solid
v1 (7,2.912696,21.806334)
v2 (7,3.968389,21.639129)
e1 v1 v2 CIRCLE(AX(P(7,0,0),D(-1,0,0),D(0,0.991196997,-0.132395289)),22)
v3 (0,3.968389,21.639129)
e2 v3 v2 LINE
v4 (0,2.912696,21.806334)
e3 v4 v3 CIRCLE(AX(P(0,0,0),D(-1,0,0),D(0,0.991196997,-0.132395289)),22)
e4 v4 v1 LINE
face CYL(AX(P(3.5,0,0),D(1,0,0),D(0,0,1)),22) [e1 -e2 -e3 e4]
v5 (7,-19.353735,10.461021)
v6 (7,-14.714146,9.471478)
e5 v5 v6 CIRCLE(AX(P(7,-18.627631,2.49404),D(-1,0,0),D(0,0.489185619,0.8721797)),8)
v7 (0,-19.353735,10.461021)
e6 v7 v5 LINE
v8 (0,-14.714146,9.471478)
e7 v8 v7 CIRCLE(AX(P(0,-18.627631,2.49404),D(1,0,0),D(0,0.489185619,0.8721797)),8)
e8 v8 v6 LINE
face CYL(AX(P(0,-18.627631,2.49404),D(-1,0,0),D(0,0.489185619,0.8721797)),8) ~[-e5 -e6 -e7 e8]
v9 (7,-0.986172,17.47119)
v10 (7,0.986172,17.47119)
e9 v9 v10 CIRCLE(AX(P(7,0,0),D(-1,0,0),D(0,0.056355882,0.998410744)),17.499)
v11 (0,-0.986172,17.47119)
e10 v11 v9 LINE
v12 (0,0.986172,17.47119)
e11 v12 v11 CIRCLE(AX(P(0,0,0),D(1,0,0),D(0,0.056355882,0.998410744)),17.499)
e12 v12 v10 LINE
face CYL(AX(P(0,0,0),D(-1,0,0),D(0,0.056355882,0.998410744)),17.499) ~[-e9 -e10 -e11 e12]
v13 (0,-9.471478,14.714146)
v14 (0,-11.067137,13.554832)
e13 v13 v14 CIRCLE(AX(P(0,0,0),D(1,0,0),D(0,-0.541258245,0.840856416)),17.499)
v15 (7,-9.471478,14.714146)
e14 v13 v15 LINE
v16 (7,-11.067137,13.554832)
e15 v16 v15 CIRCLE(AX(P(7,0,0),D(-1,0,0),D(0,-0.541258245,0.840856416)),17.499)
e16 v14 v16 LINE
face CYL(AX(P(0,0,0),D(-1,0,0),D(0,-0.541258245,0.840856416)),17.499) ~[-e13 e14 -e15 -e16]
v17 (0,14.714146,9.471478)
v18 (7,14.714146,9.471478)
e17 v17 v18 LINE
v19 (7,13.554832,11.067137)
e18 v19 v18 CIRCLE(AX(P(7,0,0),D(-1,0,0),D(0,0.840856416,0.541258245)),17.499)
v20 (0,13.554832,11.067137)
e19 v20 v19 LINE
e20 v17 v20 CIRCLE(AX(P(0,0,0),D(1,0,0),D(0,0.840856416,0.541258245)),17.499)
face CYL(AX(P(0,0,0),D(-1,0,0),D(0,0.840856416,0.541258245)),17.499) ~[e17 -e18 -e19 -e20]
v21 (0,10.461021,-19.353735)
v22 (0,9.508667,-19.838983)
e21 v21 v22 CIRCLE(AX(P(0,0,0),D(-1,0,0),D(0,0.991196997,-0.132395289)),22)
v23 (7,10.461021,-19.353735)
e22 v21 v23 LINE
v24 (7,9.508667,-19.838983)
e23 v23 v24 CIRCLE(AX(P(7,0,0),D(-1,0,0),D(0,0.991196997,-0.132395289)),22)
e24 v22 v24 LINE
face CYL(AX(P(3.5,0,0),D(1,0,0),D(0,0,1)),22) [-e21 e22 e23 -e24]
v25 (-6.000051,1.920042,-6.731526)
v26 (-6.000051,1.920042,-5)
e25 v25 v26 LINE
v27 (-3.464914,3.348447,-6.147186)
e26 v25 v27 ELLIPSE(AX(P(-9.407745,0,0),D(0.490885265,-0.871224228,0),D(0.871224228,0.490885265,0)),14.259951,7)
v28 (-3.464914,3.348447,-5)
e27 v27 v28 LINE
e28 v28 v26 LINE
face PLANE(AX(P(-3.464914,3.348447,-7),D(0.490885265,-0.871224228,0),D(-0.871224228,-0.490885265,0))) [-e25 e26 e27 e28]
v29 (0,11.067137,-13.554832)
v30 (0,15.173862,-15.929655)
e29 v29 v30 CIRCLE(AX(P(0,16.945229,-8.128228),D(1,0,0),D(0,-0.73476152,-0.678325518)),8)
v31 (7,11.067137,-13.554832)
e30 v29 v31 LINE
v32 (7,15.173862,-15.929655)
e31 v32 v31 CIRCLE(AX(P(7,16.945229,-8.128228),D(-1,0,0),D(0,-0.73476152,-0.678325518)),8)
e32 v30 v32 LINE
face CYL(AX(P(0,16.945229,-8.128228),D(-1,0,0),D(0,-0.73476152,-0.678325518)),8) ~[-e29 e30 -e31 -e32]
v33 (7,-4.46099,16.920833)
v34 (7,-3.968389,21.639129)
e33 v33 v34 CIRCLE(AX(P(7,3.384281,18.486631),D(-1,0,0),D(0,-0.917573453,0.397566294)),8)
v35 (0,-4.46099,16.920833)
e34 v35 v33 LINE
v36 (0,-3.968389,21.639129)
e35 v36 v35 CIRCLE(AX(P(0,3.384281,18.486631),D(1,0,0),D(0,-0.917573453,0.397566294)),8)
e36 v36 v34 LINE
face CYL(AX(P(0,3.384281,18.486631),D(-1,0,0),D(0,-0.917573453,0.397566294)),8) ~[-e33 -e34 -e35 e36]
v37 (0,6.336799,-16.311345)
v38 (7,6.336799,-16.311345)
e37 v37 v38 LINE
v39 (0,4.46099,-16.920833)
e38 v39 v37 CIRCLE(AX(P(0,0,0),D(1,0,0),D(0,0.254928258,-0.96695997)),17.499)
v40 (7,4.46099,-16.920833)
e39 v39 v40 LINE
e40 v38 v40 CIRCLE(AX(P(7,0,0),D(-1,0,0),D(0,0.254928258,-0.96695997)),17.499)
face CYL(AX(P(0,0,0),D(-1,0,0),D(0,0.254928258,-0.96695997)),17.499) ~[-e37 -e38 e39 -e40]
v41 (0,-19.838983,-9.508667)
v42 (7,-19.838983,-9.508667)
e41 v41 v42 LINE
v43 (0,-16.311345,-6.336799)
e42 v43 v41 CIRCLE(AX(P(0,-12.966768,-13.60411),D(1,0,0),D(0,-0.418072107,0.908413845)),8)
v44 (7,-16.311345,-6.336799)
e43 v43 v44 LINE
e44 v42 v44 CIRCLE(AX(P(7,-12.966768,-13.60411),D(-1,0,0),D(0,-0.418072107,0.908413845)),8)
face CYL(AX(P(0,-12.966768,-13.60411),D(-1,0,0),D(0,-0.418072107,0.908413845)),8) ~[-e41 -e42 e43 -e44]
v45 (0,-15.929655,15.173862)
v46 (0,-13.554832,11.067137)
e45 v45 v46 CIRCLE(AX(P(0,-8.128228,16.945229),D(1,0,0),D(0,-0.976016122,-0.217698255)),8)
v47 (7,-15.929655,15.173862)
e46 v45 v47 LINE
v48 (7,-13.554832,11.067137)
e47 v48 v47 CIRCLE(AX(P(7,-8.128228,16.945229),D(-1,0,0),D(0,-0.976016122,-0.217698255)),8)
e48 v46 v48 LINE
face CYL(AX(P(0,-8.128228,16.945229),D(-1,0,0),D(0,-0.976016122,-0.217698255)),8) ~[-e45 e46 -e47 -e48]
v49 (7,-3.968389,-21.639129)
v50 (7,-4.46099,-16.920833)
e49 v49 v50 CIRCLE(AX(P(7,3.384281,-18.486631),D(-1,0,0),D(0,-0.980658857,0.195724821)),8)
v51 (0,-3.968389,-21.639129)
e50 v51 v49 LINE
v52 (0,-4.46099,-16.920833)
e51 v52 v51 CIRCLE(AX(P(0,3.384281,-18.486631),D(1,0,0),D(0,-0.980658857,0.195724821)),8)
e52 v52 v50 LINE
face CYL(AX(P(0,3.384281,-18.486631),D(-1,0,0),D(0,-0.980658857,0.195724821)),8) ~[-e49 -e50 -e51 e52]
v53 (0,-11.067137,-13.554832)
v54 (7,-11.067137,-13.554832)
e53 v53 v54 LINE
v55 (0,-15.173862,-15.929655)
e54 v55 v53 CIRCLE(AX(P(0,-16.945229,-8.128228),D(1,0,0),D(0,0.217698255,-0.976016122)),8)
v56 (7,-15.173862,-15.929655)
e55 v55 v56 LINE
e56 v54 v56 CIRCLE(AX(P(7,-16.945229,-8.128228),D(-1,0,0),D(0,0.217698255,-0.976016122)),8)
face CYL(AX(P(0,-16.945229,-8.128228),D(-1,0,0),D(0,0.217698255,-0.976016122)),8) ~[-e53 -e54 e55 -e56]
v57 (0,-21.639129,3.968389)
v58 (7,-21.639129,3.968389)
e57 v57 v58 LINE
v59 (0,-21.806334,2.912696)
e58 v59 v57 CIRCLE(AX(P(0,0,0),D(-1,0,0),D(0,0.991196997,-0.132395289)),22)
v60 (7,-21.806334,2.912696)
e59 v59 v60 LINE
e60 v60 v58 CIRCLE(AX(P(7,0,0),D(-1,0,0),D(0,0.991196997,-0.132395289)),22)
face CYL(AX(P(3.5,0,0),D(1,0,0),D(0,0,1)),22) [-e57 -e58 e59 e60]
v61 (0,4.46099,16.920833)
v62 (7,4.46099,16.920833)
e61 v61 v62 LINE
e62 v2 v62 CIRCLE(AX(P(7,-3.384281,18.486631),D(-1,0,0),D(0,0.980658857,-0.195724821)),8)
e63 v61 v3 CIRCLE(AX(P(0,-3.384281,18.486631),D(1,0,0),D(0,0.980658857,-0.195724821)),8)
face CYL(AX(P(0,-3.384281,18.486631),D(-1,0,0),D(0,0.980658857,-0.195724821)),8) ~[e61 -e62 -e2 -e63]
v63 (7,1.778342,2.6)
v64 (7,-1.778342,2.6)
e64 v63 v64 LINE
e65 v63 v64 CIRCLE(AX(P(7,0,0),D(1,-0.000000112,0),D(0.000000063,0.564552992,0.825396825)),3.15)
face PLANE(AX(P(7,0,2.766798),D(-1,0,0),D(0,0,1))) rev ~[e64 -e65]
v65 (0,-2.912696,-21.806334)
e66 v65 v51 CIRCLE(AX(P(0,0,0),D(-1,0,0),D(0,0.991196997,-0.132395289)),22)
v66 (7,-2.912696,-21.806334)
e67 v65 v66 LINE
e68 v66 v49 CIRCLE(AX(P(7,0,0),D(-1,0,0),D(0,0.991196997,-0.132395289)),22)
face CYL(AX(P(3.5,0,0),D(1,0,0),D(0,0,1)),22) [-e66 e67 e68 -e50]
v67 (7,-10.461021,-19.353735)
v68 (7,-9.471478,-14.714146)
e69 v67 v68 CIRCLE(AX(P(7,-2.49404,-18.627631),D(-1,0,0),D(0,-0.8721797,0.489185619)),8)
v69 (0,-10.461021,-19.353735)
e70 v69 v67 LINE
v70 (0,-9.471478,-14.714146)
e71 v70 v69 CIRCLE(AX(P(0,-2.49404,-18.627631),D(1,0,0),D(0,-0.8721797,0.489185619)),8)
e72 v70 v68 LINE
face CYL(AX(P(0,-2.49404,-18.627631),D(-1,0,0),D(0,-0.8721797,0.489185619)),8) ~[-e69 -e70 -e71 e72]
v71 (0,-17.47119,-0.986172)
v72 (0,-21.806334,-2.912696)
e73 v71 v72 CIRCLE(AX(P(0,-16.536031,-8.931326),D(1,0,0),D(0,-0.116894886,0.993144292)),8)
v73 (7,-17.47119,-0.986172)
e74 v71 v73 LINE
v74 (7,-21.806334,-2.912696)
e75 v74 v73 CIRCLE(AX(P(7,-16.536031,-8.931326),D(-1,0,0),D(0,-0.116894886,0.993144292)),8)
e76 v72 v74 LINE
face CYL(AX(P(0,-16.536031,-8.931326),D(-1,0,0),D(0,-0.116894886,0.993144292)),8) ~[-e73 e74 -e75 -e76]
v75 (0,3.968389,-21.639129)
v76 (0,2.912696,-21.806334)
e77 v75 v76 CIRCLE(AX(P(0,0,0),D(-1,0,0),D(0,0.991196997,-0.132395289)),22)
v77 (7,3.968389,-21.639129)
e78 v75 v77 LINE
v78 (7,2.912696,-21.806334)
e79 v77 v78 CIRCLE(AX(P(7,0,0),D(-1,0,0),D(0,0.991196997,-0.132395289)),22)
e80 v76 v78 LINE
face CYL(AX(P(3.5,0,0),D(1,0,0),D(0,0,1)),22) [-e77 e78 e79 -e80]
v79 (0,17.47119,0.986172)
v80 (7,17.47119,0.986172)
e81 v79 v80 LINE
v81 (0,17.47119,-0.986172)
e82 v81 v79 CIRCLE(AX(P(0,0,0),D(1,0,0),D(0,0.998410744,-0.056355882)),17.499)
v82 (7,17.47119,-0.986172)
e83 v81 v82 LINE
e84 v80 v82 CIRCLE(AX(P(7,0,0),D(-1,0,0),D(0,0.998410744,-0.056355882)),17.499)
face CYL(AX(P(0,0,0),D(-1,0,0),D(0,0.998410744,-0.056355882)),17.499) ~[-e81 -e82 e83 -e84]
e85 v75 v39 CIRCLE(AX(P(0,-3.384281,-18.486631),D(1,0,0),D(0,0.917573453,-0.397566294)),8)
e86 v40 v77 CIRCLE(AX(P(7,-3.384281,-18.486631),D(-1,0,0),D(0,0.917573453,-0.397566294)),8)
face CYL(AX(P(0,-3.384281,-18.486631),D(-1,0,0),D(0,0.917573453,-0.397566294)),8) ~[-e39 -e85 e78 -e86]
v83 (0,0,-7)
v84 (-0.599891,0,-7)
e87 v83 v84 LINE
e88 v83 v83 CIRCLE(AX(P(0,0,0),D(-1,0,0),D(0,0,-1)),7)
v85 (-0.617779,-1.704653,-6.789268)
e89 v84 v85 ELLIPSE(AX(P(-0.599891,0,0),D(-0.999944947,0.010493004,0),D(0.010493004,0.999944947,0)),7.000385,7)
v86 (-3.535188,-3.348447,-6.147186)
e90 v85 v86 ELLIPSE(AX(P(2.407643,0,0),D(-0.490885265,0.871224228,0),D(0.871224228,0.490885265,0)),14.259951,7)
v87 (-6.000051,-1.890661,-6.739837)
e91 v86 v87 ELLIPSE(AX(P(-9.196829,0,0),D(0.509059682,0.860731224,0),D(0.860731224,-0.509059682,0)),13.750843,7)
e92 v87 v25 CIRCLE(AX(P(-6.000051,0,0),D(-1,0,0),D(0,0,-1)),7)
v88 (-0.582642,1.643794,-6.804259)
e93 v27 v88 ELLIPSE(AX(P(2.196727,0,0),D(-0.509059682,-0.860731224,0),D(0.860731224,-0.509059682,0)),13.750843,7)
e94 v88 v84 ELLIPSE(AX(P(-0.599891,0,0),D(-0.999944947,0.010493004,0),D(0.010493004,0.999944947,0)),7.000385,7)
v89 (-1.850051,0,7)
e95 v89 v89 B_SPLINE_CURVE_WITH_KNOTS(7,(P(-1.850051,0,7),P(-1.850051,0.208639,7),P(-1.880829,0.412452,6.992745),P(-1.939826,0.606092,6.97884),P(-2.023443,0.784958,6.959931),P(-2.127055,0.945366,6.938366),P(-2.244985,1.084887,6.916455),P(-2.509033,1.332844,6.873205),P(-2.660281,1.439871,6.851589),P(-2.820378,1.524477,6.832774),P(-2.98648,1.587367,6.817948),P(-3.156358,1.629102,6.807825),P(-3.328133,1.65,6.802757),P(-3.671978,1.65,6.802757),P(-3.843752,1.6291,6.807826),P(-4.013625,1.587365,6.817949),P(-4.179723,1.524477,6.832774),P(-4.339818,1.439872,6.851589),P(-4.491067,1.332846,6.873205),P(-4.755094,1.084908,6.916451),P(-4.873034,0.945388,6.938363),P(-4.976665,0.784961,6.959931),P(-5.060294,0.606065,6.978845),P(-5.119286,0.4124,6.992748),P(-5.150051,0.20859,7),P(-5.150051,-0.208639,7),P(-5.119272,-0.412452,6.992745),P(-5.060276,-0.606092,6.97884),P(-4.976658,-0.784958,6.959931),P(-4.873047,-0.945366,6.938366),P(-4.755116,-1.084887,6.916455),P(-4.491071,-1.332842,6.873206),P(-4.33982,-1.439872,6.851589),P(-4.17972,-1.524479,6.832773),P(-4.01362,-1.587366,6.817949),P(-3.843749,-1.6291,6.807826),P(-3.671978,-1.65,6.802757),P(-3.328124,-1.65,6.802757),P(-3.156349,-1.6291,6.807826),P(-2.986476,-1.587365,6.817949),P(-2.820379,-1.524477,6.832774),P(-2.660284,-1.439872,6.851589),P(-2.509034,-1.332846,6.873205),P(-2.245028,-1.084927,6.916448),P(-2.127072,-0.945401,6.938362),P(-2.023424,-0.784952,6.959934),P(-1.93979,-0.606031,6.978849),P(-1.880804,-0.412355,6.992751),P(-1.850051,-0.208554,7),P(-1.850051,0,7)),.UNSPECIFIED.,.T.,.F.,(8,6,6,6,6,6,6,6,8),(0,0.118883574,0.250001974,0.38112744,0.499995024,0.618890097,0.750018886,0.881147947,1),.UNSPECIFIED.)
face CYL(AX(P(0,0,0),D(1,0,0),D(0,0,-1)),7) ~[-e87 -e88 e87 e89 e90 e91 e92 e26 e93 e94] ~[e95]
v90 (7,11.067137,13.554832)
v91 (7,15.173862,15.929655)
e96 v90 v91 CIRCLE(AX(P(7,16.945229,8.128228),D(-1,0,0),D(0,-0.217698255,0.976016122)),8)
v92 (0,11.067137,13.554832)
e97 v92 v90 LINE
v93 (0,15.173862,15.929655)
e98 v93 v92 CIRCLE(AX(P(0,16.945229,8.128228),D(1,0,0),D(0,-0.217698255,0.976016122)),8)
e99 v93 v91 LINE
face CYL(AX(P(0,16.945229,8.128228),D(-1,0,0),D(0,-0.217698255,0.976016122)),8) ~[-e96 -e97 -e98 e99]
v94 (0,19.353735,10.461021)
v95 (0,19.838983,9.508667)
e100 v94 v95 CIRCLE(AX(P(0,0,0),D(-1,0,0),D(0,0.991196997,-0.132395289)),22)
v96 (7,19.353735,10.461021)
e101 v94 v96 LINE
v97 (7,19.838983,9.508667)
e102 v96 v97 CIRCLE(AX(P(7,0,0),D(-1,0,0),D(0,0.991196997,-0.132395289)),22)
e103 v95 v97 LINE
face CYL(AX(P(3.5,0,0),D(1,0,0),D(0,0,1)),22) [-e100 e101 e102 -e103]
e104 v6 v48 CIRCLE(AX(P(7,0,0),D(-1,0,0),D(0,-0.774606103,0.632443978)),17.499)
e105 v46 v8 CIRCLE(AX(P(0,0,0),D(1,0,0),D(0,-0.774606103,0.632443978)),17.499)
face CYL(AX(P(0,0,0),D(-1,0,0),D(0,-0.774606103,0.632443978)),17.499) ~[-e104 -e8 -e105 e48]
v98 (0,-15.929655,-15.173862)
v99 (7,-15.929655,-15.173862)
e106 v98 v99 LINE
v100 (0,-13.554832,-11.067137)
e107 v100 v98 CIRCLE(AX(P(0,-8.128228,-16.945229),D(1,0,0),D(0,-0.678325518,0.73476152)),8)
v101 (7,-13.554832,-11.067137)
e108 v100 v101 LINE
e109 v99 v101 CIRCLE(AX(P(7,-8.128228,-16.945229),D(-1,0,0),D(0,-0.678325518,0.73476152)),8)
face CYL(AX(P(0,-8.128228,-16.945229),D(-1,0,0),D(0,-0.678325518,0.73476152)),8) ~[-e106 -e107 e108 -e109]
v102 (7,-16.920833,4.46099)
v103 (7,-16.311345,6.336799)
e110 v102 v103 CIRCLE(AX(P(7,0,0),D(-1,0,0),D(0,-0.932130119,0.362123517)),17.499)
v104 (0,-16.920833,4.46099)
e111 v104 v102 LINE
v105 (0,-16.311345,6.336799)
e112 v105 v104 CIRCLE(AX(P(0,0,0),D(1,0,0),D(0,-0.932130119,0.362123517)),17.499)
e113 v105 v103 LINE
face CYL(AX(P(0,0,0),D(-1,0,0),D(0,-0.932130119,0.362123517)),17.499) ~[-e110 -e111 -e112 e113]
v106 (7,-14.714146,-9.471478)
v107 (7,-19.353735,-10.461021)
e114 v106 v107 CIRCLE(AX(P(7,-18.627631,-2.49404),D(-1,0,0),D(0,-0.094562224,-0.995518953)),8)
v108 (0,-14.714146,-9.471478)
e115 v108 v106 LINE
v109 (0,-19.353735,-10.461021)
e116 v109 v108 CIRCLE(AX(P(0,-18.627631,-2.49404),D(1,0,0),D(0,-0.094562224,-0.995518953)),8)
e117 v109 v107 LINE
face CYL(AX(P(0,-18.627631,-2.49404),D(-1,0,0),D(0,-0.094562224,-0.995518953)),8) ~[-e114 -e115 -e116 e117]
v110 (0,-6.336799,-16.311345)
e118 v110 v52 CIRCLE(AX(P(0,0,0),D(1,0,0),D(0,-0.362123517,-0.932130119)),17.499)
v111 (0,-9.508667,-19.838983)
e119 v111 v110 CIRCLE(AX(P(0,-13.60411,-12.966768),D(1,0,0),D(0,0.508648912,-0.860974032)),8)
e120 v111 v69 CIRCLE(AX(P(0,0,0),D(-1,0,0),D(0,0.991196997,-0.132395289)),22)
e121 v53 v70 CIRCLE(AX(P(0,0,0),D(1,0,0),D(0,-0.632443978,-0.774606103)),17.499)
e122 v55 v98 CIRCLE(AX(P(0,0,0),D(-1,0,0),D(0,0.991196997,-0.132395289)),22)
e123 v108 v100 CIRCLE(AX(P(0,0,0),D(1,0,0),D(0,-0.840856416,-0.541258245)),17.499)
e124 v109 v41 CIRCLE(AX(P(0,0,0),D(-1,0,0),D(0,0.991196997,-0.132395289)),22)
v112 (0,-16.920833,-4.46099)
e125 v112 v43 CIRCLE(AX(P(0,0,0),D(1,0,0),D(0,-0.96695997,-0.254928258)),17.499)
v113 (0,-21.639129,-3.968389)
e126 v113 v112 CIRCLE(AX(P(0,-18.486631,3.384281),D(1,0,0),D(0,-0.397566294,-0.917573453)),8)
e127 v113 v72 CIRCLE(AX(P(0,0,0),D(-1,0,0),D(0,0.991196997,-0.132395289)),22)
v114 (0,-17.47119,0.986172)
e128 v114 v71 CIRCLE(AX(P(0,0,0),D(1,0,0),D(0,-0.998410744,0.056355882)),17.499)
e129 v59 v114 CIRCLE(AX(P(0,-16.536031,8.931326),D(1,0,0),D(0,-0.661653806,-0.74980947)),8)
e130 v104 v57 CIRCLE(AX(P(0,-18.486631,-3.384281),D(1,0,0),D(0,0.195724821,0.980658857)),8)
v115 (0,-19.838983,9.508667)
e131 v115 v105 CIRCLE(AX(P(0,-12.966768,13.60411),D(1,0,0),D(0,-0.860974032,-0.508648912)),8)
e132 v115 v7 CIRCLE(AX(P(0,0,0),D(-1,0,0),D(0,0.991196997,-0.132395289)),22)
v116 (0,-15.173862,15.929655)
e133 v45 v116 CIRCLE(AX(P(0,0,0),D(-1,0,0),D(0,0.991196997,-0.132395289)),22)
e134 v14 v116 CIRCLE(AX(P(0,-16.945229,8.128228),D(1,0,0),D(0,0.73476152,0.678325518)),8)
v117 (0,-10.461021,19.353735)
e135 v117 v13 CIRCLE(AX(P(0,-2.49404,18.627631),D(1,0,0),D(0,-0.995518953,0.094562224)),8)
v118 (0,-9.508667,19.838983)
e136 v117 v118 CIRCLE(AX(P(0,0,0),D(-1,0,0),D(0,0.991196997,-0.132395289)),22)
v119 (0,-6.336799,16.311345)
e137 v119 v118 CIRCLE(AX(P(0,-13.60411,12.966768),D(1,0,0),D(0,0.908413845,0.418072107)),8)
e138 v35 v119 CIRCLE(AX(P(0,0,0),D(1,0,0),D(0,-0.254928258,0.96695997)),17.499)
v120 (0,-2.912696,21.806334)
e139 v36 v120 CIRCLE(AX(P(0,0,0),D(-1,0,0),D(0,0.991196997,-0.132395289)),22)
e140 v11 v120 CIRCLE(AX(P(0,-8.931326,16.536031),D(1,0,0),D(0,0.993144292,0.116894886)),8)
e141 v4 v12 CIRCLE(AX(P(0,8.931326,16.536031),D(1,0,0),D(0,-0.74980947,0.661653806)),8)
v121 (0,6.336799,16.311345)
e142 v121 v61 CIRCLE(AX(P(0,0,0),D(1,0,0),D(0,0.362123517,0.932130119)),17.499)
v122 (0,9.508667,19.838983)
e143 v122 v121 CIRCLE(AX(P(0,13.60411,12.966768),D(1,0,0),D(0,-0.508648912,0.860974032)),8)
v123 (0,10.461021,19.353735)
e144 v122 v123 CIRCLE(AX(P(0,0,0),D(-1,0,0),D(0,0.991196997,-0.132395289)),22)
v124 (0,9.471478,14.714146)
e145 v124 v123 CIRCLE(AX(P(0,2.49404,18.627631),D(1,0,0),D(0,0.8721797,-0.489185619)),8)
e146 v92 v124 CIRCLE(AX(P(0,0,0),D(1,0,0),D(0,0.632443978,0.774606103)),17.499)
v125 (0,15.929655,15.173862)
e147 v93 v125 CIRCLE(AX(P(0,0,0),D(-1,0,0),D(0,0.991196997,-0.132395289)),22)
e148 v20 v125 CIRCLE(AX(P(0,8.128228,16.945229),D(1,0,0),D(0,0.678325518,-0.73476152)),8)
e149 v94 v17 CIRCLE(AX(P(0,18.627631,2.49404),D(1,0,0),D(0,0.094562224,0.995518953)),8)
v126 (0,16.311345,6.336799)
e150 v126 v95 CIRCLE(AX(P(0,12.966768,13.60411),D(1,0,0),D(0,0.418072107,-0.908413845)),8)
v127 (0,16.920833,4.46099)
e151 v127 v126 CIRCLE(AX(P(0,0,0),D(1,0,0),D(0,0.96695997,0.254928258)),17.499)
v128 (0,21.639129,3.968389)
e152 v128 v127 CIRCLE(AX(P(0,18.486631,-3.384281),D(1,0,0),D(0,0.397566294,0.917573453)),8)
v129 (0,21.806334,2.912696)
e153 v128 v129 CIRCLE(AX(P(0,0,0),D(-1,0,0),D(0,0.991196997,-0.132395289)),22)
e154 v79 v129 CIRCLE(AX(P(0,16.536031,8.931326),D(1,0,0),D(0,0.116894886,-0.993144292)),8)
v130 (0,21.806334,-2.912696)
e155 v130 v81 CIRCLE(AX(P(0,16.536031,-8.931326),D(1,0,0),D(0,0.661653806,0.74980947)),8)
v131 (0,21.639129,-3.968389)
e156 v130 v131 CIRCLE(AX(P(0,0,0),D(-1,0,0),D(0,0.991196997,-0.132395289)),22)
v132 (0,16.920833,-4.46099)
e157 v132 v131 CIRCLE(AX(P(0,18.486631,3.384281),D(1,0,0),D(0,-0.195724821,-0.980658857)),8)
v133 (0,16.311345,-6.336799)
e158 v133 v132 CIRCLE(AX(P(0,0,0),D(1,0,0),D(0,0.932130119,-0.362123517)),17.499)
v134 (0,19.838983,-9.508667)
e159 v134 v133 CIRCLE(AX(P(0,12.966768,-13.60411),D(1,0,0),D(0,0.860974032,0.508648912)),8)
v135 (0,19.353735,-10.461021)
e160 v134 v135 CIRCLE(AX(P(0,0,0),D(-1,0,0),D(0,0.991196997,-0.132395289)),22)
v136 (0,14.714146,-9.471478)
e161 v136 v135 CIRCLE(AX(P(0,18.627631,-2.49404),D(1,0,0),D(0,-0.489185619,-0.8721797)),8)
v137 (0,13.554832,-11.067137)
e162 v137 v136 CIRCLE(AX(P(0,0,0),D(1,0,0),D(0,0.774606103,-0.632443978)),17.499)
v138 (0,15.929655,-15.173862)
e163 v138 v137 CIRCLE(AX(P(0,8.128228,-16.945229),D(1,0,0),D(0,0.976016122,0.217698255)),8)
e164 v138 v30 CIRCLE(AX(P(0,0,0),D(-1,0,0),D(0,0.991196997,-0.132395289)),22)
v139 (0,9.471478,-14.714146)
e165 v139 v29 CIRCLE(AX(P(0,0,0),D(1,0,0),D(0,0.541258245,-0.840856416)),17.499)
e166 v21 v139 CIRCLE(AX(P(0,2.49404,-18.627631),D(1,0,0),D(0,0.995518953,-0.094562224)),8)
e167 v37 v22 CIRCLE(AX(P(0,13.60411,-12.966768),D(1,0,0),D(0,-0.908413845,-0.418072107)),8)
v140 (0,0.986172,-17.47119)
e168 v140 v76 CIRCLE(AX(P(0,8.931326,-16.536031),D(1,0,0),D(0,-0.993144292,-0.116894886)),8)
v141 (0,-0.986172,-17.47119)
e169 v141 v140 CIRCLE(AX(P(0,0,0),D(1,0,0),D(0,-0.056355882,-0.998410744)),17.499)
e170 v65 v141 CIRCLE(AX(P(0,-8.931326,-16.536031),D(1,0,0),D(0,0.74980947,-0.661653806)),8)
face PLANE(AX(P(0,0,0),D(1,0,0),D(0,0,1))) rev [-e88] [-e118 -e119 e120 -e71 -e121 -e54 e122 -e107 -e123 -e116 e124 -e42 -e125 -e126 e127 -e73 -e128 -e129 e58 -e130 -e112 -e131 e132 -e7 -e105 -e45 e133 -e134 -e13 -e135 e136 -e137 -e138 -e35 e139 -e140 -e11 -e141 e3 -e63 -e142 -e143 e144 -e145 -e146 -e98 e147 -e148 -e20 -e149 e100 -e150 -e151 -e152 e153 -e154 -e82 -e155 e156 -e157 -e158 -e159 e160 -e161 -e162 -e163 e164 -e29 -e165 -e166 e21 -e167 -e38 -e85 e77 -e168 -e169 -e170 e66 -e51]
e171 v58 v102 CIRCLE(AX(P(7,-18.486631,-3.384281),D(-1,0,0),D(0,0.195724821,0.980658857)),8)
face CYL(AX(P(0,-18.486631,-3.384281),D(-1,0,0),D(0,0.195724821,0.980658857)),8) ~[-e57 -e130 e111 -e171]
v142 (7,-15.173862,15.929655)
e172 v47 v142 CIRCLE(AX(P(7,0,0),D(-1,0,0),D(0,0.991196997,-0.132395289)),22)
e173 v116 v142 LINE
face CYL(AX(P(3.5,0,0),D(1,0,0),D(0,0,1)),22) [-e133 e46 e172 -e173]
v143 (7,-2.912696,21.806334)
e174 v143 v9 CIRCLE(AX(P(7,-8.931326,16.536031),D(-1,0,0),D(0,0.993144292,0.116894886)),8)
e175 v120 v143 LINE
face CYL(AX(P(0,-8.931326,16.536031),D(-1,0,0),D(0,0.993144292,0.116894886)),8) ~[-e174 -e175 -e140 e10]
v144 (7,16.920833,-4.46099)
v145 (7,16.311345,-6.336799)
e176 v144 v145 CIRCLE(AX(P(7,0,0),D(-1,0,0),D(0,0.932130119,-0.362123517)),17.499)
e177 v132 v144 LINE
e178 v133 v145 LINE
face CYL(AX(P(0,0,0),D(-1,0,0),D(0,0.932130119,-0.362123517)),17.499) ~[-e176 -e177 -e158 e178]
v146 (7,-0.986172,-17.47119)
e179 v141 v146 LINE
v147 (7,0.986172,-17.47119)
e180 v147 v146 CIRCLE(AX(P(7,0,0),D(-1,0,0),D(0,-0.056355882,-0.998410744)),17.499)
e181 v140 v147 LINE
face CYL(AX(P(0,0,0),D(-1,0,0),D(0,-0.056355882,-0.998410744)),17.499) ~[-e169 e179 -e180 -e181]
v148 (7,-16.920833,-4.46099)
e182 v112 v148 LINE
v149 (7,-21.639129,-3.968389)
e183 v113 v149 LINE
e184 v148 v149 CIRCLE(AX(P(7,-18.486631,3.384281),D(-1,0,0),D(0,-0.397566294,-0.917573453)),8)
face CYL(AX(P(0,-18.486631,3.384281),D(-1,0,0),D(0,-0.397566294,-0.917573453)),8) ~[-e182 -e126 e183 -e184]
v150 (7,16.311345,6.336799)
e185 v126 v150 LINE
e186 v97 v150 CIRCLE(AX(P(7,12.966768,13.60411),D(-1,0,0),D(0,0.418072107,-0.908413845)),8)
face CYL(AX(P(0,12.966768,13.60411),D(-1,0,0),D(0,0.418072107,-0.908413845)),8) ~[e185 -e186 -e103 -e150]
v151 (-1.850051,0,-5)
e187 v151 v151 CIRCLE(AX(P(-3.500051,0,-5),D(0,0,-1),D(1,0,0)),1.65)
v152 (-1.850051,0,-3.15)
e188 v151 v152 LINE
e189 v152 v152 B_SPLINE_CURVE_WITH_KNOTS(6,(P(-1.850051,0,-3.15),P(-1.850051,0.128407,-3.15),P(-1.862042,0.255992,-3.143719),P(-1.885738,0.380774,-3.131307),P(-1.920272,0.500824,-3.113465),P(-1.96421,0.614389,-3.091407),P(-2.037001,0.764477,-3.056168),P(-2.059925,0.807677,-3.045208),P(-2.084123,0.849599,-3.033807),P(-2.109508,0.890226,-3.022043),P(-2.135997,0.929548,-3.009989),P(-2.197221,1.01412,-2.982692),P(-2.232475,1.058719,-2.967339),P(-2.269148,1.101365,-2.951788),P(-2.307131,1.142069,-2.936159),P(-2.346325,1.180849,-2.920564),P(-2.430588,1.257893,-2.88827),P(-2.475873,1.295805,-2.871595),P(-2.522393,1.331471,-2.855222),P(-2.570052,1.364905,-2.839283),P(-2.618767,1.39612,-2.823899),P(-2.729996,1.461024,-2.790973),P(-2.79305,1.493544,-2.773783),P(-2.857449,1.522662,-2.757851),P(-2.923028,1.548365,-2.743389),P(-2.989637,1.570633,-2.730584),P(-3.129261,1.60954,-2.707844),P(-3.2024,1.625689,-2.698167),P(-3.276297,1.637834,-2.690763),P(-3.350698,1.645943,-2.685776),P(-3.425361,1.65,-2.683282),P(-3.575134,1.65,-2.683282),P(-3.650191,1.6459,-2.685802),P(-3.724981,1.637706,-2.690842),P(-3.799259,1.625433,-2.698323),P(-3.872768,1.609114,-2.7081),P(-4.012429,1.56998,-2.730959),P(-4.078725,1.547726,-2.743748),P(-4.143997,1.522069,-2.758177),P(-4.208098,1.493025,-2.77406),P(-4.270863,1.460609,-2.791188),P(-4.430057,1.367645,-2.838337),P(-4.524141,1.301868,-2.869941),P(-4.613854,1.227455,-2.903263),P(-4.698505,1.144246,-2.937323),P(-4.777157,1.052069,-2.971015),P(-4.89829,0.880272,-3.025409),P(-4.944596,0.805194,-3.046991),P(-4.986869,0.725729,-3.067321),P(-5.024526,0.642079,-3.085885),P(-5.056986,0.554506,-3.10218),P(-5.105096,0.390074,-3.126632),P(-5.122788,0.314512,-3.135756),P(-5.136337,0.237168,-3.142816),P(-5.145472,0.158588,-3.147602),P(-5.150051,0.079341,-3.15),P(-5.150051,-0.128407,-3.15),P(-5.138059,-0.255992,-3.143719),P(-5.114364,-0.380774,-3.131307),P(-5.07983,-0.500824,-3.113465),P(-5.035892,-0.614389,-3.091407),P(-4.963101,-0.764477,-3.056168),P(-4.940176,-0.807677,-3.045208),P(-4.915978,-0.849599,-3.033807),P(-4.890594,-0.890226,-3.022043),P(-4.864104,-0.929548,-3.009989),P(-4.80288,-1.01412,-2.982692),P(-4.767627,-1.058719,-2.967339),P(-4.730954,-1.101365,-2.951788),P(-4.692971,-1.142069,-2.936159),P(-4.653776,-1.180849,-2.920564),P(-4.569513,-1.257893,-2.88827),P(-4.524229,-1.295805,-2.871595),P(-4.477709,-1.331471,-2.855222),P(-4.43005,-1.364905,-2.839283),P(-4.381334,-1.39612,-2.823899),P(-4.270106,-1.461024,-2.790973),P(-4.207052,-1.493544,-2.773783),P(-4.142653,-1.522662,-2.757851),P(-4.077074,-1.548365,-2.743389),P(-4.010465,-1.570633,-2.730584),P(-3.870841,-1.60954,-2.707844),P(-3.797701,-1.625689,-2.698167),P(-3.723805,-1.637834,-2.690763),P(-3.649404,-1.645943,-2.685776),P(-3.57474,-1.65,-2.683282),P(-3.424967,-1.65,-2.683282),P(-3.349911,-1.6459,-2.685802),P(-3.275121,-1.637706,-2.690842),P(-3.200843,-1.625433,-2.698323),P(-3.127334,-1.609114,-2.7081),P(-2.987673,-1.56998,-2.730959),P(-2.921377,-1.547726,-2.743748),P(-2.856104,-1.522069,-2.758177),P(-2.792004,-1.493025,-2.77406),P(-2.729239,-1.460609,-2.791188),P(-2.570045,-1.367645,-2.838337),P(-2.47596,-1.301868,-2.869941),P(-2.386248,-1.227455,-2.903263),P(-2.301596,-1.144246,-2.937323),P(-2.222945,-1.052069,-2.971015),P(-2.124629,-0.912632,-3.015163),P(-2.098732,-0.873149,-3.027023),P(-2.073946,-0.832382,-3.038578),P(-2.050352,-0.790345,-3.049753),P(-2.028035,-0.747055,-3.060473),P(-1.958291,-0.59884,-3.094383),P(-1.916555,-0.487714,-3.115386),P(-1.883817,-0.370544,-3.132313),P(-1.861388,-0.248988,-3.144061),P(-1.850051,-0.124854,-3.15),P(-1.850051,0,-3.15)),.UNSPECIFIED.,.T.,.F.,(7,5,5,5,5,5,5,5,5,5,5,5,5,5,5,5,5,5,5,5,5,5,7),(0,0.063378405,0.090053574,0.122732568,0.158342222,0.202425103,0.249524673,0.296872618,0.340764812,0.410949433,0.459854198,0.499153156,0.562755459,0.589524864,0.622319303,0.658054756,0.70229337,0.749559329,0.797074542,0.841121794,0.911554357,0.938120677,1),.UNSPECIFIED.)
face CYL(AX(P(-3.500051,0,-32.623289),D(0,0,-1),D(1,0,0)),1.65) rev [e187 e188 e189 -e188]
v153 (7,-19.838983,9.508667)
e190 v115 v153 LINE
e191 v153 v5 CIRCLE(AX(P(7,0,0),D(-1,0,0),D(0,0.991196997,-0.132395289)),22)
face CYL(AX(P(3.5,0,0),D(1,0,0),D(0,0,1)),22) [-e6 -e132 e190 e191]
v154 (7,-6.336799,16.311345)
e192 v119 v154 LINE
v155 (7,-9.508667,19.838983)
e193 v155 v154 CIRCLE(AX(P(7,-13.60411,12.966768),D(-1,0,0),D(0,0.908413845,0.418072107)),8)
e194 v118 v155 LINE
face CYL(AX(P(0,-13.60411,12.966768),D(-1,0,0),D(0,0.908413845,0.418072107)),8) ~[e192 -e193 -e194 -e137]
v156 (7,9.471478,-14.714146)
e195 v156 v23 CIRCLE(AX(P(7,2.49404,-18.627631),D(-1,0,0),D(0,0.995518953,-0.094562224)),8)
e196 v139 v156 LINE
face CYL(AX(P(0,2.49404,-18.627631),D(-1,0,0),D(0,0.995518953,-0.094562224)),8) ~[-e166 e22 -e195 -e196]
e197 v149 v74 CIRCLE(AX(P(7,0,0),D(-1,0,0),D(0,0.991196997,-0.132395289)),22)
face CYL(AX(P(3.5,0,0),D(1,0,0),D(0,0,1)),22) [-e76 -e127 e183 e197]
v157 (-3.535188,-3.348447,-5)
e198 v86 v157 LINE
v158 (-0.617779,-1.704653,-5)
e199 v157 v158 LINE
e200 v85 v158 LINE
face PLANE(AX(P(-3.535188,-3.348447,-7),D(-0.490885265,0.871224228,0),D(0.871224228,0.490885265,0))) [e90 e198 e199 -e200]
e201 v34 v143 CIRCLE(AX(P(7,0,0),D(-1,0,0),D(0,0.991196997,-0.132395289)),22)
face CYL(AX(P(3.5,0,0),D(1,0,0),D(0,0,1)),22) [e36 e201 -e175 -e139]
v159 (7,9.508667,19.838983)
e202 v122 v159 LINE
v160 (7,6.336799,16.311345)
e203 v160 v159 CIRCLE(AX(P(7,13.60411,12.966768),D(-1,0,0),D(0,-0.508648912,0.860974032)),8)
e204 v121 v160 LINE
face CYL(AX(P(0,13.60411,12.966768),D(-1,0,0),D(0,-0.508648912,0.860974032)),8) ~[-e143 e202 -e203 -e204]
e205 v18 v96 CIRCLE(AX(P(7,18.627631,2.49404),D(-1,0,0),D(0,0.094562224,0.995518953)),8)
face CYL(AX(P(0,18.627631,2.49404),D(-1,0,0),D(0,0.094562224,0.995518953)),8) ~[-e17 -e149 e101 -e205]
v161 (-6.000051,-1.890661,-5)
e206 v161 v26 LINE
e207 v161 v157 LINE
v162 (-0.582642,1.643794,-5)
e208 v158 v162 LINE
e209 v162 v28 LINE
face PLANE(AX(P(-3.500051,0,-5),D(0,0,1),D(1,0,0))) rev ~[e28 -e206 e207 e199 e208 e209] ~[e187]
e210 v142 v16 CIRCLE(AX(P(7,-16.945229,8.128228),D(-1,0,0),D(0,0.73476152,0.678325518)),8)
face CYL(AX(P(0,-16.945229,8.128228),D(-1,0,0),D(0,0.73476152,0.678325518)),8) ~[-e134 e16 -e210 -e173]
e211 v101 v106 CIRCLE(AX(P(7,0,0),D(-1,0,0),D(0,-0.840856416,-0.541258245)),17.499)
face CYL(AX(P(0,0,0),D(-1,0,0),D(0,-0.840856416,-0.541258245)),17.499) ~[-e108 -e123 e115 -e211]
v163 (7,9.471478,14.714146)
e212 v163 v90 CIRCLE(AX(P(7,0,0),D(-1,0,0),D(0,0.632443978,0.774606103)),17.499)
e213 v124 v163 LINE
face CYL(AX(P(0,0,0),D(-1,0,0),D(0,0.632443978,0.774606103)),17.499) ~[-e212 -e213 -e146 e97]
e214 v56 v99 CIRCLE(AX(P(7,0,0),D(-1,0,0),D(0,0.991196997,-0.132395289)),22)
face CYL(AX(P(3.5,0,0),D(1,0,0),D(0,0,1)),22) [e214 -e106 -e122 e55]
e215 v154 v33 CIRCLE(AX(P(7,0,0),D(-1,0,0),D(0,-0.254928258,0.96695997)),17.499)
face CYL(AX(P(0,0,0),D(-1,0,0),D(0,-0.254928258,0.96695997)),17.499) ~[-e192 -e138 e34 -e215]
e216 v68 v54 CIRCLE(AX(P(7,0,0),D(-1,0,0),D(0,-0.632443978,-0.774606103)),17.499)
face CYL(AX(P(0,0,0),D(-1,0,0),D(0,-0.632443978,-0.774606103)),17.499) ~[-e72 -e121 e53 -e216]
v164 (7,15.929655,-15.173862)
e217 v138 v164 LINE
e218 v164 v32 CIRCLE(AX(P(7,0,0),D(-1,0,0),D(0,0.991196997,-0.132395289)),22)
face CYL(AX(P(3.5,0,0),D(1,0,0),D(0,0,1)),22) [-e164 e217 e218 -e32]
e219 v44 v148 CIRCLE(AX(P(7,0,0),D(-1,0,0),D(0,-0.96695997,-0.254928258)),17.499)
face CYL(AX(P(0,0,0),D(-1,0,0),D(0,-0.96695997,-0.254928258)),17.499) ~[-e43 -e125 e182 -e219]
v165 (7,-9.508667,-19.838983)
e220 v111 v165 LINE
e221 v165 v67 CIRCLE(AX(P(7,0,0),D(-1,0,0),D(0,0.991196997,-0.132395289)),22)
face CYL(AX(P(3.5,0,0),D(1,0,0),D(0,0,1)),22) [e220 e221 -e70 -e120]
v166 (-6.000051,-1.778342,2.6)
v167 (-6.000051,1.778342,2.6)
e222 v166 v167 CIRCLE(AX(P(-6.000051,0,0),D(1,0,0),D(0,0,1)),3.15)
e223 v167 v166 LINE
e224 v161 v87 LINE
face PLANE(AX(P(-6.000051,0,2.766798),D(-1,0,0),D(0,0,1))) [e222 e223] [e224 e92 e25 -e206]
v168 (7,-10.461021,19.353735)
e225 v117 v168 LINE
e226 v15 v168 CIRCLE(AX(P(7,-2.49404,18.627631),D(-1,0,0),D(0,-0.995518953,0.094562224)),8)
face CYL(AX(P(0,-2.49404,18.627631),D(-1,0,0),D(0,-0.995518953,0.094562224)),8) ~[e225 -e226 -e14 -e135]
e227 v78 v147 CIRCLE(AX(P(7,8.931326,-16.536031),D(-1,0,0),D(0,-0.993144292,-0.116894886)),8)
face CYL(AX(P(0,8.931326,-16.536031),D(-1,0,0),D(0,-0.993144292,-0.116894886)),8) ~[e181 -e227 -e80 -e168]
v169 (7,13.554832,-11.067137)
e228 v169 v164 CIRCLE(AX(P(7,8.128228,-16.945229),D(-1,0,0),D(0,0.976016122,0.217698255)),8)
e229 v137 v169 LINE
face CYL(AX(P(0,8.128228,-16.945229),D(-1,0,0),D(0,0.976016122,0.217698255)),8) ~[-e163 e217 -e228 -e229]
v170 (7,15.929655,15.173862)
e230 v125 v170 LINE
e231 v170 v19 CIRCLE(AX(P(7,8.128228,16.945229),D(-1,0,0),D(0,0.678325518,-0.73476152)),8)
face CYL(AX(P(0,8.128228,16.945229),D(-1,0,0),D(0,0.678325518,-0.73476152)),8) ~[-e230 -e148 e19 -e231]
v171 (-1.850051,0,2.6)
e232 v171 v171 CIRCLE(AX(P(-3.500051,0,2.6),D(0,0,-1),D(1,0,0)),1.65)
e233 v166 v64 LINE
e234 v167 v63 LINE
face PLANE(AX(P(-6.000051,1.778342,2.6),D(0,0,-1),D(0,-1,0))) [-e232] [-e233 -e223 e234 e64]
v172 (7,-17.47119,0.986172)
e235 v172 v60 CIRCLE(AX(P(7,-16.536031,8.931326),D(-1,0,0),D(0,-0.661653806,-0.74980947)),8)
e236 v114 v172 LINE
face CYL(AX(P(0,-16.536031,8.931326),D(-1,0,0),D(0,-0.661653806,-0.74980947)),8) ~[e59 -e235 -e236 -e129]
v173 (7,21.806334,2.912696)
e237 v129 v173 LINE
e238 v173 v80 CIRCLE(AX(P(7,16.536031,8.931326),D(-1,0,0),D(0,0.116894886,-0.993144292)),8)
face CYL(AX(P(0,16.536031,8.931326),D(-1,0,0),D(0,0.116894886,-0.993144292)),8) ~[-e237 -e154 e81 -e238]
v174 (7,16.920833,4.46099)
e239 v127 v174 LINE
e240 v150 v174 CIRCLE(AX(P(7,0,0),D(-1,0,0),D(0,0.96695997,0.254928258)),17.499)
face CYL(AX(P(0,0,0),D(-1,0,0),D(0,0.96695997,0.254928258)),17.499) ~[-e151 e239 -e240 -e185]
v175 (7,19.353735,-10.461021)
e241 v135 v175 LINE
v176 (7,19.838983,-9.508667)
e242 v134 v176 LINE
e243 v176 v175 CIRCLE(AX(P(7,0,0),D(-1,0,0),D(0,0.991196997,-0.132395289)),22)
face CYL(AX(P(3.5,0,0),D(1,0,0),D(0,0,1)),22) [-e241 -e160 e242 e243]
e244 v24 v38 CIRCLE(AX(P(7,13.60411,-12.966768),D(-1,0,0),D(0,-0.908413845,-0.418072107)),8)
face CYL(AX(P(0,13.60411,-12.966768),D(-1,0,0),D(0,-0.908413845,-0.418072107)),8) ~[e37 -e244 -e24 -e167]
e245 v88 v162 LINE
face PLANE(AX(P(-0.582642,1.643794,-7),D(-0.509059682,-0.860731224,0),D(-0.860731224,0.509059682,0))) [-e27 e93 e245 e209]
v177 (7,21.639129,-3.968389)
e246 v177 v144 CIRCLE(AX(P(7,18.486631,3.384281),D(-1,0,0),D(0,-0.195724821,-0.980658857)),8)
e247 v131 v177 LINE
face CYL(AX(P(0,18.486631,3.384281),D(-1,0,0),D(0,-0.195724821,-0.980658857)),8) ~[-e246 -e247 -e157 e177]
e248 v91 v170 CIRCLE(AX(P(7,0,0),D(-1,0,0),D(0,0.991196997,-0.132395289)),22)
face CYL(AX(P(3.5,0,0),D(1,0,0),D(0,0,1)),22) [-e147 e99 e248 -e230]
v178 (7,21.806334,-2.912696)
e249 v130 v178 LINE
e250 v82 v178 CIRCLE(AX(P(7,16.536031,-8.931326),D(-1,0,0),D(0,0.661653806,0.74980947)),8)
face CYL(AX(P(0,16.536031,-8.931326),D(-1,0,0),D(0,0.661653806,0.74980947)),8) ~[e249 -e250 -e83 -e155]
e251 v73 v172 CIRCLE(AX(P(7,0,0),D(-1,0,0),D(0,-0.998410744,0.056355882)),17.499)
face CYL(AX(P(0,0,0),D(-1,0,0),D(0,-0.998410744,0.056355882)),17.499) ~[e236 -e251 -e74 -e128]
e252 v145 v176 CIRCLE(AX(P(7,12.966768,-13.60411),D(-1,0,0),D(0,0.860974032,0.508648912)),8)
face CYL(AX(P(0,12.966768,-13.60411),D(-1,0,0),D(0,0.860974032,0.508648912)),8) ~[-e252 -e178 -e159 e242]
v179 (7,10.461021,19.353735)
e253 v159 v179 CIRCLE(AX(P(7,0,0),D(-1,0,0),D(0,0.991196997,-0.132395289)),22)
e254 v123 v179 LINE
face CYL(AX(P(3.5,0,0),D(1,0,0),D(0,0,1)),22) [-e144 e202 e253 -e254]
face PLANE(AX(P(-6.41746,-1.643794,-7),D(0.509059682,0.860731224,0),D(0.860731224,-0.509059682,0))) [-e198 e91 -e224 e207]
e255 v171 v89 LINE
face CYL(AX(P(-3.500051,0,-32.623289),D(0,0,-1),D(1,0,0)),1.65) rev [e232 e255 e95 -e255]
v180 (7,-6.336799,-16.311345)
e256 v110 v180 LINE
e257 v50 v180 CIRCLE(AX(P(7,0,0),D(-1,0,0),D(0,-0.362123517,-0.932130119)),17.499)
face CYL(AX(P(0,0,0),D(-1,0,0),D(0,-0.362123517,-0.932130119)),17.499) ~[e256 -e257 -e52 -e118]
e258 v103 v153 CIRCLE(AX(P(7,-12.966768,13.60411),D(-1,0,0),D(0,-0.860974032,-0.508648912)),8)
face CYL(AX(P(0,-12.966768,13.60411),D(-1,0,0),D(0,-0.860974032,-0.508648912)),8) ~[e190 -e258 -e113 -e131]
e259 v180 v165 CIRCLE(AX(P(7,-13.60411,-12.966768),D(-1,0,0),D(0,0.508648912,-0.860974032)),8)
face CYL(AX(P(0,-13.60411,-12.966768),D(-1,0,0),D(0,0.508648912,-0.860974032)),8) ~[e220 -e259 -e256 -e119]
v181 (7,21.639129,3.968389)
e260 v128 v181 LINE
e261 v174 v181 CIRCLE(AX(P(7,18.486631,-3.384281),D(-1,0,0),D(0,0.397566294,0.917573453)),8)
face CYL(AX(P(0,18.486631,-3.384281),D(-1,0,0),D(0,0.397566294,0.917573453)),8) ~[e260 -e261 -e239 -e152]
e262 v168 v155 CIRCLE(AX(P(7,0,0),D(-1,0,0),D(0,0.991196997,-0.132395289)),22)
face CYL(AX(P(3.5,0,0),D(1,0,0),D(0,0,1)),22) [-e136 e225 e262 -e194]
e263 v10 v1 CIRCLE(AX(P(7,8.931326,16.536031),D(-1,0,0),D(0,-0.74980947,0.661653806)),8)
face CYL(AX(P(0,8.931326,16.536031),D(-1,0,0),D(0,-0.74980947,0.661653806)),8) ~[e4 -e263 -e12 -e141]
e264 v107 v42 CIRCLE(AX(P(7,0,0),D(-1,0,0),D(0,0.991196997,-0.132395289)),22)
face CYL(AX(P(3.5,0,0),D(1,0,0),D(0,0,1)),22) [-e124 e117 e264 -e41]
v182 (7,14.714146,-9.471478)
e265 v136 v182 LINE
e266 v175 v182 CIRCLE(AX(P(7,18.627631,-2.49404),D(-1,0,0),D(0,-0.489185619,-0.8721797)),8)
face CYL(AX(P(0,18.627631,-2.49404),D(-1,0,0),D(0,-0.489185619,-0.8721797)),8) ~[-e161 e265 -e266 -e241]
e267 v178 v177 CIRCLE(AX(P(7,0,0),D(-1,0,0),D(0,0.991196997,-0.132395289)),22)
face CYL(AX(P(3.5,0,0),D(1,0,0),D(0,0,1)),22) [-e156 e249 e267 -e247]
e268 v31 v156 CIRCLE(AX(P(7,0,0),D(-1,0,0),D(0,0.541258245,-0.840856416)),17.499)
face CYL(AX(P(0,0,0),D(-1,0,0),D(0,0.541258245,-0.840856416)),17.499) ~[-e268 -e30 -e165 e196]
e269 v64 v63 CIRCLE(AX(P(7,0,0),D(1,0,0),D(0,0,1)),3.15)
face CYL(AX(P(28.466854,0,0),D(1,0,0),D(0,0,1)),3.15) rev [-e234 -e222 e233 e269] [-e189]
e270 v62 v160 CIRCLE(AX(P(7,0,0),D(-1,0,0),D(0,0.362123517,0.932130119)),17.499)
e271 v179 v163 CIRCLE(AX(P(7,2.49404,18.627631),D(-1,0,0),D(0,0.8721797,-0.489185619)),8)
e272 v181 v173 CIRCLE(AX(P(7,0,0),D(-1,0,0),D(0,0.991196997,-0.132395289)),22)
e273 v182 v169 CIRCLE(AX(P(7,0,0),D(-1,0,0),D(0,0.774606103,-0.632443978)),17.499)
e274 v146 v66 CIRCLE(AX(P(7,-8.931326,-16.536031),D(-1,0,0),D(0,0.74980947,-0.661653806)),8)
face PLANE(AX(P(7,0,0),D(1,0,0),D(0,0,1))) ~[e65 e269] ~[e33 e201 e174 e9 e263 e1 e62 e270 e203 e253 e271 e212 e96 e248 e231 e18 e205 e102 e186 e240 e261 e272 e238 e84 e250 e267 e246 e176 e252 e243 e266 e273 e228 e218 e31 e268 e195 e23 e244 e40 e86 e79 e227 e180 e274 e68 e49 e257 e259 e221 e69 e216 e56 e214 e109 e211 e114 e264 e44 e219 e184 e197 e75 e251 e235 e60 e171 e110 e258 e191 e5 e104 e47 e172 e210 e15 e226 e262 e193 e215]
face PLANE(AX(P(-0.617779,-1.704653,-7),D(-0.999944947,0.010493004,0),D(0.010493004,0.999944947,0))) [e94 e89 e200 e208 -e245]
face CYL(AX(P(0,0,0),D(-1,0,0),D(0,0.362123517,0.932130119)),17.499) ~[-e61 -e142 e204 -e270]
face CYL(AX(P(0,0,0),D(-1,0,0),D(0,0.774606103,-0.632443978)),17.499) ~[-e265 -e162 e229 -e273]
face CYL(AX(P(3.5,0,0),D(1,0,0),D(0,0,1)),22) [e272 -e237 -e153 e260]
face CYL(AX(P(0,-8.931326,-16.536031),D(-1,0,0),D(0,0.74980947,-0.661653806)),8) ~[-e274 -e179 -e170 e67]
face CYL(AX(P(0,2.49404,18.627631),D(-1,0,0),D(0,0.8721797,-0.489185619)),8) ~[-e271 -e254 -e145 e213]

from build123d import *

# Parameters (mm, degrees)
BASPROSKE_W              = 7
BASPROSKE_H              = 22
TOOTHCUT_DEPTH           = 32.890437438
TEETHCUTS_COUNT          = 20
TEETHCUTS_ANGLE          = 342
HUBNEAONESKE_R           = 7
HUBNEARONE_DEPTH         = 6.0000508
BORSKE_R                 = 3
BORE_DEPTH               = 13.0000508
CUT_EXTRUDE_3_DEPTH      = 34.466904857
CUT_EXTRUDE_3_DEPTH_BACK = 34.466904857
SKETCH_4_R               = 3.15
EXTRUDE_1_DEPTH          = 13.000051
CUT_EXTRUDE_4_DEPTH      = 32.623288929
CUT_EXTRUDE_4_DEPTH_BACK = 32.623288929
SKETCH_2_R               = 1.65
CUT_EXTRUDE_5_DEPTH      = 2


with BuildPart() as part:
    # BasProSke → Base-Revolve (revolve)
    with BuildSketch(Plane(origin=(0, 0, 0), x_dir=(1, 0, 0), z_dir=(0, 1, 0)), mode=Mode.PRIVATE) as base_revolve_sk:
        with Locations((3.5, 11)):
            Rectangle(BASPROSKE_W, BASPROSKE_H)
    revolve(base_revolve_sk.sketch.rotate(Axis((-10, 0, 0), (1, 0, 0)), 180), axis=Axis((-10, 0, 0), (1, 0, 0)))

    # TooCutSke → ToothCut (cut, through all)
    with BuildSketch(Plane(origin=(0, 0, 0), x_dir=(0, 0, -1), z_dir=(1, 0, 0))):
        with BuildLine():
            ThreePointArc((0.986171591, 17.471189616), (0, 17.499), (-0.986171591, 17.471189616))
            ThreePointArc((-0.986171591, 17.471189616), (-1.626916196, 19.798789858), (-2.932850173, 21.829260982))
            ThreePointArc((-2.932850173, 21.829260982), (0, 22.0254), (2.932850173, 21.829260982))
            ThreePointArc((2.932850173, 21.829260982), (1.626916196, 19.798789858), (0.986171591, 17.471189616))
        make_face()
    toothcut = extrude(amount=TOOTHCUT_DEPTH, mode=Mode.SUBTRACT)

    # TeethCuts: ToothCut ×20 about axis
    teethcuts_axis = Axis((-10, 0, 0), (1, 0, 0))
    for i in range(1, TEETHCUTS_COUNT):
        add(toothcut.rotate(teethcuts_axis, i * TEETHCUTS_ANGLE / (TEETHCUTS_COUNT - 1)), mode=Mode.SUBTRACT)

    # HubNeaOneSke → HubNearOne (add)
    with BuildSketch(Plane.ZY):
        with Locations(Location((0, 0, 0), (0, 0, 180))):
            Circle(HUBNEAONESKE_R)
    extrude(amount=HUBNEARONE_DEPTH)

    # BorSke → Bore (cut, symmetric)
    with BuildSketch(Plane(origin=(0, 0, 0), x_dir=(0, 0, -1), z_dir=(1, 0, 0))):
        with Locations(Location((0, 0, 0), (0, 0, 180))):
            Circle(BORSKE_R)
    extrude(amount=BORE_DEPTH, both=True, mode=Mode.SUBTRACT)

    # 草图4 → 切除-拉伸3 (cut, two sides: drawn at the far end of the back side and taken through both)
    with BuildSketch(Plane.ZY.offset(6.0000508).offset(-CUT_EXTRUDE_3_DEPTH_BACK)):
        Circle(SKETCH_4_R)
    extrude(amount=CUT_EXTRUDE_3_DEPTH + CUT_EXTRUDE_3_DEPTH_BACK, mode=Mode.SUBTRACT)

    # 草图1 → 凸台-拉伸1 (add, through all)
    with BuildSketch(Plane.ZY.offset(6.0000508)):
        with BuildLine():
            Line((2.6, 1.778341924), (2.6, -1.778341924))
            ThreePointArc((2.6, -1.778341924), (3.15, 0), (2.6, 1.778341924))
        make_face()
    extrude(amount=-EXTRUDE_1_DEPTH)

    # 草图2 → 切除-拉伸4 (cut, two sides: drawn at the far end of the back side and taken through both)
    with BuildSketch(Plane.XY.offset(-CUT_EXTRUDE_4_DEPTH_BACK)):
        with Locations((-3.5000508, 0)):
            Circle(SKETCH_2_R)
    extrude(amount=CUT_EXTRUDE_4_DEPTH + CUT_EXTRUDE_4_DEPTH_BACK, mode=Mode.SUBTRACT)

    # 草图5 → 切除-拉伸5 (cut)
    with BuildSketch(Plane.XY.offset(-7)):
        Polygon((-6.382322544, 1.704653316), (-6.417459749, -1.643793892), (-3.535188005, -3.348447209), (-0.617779056, -1.704653316), (-0.582641851, 1.643793892), (-3.464913595, 3.348447209), align=None)
    extrude(amount=CUT_EXTRUDE_5_DEPTH, mode=Mode.SUBTRACT)


solid = part.part
